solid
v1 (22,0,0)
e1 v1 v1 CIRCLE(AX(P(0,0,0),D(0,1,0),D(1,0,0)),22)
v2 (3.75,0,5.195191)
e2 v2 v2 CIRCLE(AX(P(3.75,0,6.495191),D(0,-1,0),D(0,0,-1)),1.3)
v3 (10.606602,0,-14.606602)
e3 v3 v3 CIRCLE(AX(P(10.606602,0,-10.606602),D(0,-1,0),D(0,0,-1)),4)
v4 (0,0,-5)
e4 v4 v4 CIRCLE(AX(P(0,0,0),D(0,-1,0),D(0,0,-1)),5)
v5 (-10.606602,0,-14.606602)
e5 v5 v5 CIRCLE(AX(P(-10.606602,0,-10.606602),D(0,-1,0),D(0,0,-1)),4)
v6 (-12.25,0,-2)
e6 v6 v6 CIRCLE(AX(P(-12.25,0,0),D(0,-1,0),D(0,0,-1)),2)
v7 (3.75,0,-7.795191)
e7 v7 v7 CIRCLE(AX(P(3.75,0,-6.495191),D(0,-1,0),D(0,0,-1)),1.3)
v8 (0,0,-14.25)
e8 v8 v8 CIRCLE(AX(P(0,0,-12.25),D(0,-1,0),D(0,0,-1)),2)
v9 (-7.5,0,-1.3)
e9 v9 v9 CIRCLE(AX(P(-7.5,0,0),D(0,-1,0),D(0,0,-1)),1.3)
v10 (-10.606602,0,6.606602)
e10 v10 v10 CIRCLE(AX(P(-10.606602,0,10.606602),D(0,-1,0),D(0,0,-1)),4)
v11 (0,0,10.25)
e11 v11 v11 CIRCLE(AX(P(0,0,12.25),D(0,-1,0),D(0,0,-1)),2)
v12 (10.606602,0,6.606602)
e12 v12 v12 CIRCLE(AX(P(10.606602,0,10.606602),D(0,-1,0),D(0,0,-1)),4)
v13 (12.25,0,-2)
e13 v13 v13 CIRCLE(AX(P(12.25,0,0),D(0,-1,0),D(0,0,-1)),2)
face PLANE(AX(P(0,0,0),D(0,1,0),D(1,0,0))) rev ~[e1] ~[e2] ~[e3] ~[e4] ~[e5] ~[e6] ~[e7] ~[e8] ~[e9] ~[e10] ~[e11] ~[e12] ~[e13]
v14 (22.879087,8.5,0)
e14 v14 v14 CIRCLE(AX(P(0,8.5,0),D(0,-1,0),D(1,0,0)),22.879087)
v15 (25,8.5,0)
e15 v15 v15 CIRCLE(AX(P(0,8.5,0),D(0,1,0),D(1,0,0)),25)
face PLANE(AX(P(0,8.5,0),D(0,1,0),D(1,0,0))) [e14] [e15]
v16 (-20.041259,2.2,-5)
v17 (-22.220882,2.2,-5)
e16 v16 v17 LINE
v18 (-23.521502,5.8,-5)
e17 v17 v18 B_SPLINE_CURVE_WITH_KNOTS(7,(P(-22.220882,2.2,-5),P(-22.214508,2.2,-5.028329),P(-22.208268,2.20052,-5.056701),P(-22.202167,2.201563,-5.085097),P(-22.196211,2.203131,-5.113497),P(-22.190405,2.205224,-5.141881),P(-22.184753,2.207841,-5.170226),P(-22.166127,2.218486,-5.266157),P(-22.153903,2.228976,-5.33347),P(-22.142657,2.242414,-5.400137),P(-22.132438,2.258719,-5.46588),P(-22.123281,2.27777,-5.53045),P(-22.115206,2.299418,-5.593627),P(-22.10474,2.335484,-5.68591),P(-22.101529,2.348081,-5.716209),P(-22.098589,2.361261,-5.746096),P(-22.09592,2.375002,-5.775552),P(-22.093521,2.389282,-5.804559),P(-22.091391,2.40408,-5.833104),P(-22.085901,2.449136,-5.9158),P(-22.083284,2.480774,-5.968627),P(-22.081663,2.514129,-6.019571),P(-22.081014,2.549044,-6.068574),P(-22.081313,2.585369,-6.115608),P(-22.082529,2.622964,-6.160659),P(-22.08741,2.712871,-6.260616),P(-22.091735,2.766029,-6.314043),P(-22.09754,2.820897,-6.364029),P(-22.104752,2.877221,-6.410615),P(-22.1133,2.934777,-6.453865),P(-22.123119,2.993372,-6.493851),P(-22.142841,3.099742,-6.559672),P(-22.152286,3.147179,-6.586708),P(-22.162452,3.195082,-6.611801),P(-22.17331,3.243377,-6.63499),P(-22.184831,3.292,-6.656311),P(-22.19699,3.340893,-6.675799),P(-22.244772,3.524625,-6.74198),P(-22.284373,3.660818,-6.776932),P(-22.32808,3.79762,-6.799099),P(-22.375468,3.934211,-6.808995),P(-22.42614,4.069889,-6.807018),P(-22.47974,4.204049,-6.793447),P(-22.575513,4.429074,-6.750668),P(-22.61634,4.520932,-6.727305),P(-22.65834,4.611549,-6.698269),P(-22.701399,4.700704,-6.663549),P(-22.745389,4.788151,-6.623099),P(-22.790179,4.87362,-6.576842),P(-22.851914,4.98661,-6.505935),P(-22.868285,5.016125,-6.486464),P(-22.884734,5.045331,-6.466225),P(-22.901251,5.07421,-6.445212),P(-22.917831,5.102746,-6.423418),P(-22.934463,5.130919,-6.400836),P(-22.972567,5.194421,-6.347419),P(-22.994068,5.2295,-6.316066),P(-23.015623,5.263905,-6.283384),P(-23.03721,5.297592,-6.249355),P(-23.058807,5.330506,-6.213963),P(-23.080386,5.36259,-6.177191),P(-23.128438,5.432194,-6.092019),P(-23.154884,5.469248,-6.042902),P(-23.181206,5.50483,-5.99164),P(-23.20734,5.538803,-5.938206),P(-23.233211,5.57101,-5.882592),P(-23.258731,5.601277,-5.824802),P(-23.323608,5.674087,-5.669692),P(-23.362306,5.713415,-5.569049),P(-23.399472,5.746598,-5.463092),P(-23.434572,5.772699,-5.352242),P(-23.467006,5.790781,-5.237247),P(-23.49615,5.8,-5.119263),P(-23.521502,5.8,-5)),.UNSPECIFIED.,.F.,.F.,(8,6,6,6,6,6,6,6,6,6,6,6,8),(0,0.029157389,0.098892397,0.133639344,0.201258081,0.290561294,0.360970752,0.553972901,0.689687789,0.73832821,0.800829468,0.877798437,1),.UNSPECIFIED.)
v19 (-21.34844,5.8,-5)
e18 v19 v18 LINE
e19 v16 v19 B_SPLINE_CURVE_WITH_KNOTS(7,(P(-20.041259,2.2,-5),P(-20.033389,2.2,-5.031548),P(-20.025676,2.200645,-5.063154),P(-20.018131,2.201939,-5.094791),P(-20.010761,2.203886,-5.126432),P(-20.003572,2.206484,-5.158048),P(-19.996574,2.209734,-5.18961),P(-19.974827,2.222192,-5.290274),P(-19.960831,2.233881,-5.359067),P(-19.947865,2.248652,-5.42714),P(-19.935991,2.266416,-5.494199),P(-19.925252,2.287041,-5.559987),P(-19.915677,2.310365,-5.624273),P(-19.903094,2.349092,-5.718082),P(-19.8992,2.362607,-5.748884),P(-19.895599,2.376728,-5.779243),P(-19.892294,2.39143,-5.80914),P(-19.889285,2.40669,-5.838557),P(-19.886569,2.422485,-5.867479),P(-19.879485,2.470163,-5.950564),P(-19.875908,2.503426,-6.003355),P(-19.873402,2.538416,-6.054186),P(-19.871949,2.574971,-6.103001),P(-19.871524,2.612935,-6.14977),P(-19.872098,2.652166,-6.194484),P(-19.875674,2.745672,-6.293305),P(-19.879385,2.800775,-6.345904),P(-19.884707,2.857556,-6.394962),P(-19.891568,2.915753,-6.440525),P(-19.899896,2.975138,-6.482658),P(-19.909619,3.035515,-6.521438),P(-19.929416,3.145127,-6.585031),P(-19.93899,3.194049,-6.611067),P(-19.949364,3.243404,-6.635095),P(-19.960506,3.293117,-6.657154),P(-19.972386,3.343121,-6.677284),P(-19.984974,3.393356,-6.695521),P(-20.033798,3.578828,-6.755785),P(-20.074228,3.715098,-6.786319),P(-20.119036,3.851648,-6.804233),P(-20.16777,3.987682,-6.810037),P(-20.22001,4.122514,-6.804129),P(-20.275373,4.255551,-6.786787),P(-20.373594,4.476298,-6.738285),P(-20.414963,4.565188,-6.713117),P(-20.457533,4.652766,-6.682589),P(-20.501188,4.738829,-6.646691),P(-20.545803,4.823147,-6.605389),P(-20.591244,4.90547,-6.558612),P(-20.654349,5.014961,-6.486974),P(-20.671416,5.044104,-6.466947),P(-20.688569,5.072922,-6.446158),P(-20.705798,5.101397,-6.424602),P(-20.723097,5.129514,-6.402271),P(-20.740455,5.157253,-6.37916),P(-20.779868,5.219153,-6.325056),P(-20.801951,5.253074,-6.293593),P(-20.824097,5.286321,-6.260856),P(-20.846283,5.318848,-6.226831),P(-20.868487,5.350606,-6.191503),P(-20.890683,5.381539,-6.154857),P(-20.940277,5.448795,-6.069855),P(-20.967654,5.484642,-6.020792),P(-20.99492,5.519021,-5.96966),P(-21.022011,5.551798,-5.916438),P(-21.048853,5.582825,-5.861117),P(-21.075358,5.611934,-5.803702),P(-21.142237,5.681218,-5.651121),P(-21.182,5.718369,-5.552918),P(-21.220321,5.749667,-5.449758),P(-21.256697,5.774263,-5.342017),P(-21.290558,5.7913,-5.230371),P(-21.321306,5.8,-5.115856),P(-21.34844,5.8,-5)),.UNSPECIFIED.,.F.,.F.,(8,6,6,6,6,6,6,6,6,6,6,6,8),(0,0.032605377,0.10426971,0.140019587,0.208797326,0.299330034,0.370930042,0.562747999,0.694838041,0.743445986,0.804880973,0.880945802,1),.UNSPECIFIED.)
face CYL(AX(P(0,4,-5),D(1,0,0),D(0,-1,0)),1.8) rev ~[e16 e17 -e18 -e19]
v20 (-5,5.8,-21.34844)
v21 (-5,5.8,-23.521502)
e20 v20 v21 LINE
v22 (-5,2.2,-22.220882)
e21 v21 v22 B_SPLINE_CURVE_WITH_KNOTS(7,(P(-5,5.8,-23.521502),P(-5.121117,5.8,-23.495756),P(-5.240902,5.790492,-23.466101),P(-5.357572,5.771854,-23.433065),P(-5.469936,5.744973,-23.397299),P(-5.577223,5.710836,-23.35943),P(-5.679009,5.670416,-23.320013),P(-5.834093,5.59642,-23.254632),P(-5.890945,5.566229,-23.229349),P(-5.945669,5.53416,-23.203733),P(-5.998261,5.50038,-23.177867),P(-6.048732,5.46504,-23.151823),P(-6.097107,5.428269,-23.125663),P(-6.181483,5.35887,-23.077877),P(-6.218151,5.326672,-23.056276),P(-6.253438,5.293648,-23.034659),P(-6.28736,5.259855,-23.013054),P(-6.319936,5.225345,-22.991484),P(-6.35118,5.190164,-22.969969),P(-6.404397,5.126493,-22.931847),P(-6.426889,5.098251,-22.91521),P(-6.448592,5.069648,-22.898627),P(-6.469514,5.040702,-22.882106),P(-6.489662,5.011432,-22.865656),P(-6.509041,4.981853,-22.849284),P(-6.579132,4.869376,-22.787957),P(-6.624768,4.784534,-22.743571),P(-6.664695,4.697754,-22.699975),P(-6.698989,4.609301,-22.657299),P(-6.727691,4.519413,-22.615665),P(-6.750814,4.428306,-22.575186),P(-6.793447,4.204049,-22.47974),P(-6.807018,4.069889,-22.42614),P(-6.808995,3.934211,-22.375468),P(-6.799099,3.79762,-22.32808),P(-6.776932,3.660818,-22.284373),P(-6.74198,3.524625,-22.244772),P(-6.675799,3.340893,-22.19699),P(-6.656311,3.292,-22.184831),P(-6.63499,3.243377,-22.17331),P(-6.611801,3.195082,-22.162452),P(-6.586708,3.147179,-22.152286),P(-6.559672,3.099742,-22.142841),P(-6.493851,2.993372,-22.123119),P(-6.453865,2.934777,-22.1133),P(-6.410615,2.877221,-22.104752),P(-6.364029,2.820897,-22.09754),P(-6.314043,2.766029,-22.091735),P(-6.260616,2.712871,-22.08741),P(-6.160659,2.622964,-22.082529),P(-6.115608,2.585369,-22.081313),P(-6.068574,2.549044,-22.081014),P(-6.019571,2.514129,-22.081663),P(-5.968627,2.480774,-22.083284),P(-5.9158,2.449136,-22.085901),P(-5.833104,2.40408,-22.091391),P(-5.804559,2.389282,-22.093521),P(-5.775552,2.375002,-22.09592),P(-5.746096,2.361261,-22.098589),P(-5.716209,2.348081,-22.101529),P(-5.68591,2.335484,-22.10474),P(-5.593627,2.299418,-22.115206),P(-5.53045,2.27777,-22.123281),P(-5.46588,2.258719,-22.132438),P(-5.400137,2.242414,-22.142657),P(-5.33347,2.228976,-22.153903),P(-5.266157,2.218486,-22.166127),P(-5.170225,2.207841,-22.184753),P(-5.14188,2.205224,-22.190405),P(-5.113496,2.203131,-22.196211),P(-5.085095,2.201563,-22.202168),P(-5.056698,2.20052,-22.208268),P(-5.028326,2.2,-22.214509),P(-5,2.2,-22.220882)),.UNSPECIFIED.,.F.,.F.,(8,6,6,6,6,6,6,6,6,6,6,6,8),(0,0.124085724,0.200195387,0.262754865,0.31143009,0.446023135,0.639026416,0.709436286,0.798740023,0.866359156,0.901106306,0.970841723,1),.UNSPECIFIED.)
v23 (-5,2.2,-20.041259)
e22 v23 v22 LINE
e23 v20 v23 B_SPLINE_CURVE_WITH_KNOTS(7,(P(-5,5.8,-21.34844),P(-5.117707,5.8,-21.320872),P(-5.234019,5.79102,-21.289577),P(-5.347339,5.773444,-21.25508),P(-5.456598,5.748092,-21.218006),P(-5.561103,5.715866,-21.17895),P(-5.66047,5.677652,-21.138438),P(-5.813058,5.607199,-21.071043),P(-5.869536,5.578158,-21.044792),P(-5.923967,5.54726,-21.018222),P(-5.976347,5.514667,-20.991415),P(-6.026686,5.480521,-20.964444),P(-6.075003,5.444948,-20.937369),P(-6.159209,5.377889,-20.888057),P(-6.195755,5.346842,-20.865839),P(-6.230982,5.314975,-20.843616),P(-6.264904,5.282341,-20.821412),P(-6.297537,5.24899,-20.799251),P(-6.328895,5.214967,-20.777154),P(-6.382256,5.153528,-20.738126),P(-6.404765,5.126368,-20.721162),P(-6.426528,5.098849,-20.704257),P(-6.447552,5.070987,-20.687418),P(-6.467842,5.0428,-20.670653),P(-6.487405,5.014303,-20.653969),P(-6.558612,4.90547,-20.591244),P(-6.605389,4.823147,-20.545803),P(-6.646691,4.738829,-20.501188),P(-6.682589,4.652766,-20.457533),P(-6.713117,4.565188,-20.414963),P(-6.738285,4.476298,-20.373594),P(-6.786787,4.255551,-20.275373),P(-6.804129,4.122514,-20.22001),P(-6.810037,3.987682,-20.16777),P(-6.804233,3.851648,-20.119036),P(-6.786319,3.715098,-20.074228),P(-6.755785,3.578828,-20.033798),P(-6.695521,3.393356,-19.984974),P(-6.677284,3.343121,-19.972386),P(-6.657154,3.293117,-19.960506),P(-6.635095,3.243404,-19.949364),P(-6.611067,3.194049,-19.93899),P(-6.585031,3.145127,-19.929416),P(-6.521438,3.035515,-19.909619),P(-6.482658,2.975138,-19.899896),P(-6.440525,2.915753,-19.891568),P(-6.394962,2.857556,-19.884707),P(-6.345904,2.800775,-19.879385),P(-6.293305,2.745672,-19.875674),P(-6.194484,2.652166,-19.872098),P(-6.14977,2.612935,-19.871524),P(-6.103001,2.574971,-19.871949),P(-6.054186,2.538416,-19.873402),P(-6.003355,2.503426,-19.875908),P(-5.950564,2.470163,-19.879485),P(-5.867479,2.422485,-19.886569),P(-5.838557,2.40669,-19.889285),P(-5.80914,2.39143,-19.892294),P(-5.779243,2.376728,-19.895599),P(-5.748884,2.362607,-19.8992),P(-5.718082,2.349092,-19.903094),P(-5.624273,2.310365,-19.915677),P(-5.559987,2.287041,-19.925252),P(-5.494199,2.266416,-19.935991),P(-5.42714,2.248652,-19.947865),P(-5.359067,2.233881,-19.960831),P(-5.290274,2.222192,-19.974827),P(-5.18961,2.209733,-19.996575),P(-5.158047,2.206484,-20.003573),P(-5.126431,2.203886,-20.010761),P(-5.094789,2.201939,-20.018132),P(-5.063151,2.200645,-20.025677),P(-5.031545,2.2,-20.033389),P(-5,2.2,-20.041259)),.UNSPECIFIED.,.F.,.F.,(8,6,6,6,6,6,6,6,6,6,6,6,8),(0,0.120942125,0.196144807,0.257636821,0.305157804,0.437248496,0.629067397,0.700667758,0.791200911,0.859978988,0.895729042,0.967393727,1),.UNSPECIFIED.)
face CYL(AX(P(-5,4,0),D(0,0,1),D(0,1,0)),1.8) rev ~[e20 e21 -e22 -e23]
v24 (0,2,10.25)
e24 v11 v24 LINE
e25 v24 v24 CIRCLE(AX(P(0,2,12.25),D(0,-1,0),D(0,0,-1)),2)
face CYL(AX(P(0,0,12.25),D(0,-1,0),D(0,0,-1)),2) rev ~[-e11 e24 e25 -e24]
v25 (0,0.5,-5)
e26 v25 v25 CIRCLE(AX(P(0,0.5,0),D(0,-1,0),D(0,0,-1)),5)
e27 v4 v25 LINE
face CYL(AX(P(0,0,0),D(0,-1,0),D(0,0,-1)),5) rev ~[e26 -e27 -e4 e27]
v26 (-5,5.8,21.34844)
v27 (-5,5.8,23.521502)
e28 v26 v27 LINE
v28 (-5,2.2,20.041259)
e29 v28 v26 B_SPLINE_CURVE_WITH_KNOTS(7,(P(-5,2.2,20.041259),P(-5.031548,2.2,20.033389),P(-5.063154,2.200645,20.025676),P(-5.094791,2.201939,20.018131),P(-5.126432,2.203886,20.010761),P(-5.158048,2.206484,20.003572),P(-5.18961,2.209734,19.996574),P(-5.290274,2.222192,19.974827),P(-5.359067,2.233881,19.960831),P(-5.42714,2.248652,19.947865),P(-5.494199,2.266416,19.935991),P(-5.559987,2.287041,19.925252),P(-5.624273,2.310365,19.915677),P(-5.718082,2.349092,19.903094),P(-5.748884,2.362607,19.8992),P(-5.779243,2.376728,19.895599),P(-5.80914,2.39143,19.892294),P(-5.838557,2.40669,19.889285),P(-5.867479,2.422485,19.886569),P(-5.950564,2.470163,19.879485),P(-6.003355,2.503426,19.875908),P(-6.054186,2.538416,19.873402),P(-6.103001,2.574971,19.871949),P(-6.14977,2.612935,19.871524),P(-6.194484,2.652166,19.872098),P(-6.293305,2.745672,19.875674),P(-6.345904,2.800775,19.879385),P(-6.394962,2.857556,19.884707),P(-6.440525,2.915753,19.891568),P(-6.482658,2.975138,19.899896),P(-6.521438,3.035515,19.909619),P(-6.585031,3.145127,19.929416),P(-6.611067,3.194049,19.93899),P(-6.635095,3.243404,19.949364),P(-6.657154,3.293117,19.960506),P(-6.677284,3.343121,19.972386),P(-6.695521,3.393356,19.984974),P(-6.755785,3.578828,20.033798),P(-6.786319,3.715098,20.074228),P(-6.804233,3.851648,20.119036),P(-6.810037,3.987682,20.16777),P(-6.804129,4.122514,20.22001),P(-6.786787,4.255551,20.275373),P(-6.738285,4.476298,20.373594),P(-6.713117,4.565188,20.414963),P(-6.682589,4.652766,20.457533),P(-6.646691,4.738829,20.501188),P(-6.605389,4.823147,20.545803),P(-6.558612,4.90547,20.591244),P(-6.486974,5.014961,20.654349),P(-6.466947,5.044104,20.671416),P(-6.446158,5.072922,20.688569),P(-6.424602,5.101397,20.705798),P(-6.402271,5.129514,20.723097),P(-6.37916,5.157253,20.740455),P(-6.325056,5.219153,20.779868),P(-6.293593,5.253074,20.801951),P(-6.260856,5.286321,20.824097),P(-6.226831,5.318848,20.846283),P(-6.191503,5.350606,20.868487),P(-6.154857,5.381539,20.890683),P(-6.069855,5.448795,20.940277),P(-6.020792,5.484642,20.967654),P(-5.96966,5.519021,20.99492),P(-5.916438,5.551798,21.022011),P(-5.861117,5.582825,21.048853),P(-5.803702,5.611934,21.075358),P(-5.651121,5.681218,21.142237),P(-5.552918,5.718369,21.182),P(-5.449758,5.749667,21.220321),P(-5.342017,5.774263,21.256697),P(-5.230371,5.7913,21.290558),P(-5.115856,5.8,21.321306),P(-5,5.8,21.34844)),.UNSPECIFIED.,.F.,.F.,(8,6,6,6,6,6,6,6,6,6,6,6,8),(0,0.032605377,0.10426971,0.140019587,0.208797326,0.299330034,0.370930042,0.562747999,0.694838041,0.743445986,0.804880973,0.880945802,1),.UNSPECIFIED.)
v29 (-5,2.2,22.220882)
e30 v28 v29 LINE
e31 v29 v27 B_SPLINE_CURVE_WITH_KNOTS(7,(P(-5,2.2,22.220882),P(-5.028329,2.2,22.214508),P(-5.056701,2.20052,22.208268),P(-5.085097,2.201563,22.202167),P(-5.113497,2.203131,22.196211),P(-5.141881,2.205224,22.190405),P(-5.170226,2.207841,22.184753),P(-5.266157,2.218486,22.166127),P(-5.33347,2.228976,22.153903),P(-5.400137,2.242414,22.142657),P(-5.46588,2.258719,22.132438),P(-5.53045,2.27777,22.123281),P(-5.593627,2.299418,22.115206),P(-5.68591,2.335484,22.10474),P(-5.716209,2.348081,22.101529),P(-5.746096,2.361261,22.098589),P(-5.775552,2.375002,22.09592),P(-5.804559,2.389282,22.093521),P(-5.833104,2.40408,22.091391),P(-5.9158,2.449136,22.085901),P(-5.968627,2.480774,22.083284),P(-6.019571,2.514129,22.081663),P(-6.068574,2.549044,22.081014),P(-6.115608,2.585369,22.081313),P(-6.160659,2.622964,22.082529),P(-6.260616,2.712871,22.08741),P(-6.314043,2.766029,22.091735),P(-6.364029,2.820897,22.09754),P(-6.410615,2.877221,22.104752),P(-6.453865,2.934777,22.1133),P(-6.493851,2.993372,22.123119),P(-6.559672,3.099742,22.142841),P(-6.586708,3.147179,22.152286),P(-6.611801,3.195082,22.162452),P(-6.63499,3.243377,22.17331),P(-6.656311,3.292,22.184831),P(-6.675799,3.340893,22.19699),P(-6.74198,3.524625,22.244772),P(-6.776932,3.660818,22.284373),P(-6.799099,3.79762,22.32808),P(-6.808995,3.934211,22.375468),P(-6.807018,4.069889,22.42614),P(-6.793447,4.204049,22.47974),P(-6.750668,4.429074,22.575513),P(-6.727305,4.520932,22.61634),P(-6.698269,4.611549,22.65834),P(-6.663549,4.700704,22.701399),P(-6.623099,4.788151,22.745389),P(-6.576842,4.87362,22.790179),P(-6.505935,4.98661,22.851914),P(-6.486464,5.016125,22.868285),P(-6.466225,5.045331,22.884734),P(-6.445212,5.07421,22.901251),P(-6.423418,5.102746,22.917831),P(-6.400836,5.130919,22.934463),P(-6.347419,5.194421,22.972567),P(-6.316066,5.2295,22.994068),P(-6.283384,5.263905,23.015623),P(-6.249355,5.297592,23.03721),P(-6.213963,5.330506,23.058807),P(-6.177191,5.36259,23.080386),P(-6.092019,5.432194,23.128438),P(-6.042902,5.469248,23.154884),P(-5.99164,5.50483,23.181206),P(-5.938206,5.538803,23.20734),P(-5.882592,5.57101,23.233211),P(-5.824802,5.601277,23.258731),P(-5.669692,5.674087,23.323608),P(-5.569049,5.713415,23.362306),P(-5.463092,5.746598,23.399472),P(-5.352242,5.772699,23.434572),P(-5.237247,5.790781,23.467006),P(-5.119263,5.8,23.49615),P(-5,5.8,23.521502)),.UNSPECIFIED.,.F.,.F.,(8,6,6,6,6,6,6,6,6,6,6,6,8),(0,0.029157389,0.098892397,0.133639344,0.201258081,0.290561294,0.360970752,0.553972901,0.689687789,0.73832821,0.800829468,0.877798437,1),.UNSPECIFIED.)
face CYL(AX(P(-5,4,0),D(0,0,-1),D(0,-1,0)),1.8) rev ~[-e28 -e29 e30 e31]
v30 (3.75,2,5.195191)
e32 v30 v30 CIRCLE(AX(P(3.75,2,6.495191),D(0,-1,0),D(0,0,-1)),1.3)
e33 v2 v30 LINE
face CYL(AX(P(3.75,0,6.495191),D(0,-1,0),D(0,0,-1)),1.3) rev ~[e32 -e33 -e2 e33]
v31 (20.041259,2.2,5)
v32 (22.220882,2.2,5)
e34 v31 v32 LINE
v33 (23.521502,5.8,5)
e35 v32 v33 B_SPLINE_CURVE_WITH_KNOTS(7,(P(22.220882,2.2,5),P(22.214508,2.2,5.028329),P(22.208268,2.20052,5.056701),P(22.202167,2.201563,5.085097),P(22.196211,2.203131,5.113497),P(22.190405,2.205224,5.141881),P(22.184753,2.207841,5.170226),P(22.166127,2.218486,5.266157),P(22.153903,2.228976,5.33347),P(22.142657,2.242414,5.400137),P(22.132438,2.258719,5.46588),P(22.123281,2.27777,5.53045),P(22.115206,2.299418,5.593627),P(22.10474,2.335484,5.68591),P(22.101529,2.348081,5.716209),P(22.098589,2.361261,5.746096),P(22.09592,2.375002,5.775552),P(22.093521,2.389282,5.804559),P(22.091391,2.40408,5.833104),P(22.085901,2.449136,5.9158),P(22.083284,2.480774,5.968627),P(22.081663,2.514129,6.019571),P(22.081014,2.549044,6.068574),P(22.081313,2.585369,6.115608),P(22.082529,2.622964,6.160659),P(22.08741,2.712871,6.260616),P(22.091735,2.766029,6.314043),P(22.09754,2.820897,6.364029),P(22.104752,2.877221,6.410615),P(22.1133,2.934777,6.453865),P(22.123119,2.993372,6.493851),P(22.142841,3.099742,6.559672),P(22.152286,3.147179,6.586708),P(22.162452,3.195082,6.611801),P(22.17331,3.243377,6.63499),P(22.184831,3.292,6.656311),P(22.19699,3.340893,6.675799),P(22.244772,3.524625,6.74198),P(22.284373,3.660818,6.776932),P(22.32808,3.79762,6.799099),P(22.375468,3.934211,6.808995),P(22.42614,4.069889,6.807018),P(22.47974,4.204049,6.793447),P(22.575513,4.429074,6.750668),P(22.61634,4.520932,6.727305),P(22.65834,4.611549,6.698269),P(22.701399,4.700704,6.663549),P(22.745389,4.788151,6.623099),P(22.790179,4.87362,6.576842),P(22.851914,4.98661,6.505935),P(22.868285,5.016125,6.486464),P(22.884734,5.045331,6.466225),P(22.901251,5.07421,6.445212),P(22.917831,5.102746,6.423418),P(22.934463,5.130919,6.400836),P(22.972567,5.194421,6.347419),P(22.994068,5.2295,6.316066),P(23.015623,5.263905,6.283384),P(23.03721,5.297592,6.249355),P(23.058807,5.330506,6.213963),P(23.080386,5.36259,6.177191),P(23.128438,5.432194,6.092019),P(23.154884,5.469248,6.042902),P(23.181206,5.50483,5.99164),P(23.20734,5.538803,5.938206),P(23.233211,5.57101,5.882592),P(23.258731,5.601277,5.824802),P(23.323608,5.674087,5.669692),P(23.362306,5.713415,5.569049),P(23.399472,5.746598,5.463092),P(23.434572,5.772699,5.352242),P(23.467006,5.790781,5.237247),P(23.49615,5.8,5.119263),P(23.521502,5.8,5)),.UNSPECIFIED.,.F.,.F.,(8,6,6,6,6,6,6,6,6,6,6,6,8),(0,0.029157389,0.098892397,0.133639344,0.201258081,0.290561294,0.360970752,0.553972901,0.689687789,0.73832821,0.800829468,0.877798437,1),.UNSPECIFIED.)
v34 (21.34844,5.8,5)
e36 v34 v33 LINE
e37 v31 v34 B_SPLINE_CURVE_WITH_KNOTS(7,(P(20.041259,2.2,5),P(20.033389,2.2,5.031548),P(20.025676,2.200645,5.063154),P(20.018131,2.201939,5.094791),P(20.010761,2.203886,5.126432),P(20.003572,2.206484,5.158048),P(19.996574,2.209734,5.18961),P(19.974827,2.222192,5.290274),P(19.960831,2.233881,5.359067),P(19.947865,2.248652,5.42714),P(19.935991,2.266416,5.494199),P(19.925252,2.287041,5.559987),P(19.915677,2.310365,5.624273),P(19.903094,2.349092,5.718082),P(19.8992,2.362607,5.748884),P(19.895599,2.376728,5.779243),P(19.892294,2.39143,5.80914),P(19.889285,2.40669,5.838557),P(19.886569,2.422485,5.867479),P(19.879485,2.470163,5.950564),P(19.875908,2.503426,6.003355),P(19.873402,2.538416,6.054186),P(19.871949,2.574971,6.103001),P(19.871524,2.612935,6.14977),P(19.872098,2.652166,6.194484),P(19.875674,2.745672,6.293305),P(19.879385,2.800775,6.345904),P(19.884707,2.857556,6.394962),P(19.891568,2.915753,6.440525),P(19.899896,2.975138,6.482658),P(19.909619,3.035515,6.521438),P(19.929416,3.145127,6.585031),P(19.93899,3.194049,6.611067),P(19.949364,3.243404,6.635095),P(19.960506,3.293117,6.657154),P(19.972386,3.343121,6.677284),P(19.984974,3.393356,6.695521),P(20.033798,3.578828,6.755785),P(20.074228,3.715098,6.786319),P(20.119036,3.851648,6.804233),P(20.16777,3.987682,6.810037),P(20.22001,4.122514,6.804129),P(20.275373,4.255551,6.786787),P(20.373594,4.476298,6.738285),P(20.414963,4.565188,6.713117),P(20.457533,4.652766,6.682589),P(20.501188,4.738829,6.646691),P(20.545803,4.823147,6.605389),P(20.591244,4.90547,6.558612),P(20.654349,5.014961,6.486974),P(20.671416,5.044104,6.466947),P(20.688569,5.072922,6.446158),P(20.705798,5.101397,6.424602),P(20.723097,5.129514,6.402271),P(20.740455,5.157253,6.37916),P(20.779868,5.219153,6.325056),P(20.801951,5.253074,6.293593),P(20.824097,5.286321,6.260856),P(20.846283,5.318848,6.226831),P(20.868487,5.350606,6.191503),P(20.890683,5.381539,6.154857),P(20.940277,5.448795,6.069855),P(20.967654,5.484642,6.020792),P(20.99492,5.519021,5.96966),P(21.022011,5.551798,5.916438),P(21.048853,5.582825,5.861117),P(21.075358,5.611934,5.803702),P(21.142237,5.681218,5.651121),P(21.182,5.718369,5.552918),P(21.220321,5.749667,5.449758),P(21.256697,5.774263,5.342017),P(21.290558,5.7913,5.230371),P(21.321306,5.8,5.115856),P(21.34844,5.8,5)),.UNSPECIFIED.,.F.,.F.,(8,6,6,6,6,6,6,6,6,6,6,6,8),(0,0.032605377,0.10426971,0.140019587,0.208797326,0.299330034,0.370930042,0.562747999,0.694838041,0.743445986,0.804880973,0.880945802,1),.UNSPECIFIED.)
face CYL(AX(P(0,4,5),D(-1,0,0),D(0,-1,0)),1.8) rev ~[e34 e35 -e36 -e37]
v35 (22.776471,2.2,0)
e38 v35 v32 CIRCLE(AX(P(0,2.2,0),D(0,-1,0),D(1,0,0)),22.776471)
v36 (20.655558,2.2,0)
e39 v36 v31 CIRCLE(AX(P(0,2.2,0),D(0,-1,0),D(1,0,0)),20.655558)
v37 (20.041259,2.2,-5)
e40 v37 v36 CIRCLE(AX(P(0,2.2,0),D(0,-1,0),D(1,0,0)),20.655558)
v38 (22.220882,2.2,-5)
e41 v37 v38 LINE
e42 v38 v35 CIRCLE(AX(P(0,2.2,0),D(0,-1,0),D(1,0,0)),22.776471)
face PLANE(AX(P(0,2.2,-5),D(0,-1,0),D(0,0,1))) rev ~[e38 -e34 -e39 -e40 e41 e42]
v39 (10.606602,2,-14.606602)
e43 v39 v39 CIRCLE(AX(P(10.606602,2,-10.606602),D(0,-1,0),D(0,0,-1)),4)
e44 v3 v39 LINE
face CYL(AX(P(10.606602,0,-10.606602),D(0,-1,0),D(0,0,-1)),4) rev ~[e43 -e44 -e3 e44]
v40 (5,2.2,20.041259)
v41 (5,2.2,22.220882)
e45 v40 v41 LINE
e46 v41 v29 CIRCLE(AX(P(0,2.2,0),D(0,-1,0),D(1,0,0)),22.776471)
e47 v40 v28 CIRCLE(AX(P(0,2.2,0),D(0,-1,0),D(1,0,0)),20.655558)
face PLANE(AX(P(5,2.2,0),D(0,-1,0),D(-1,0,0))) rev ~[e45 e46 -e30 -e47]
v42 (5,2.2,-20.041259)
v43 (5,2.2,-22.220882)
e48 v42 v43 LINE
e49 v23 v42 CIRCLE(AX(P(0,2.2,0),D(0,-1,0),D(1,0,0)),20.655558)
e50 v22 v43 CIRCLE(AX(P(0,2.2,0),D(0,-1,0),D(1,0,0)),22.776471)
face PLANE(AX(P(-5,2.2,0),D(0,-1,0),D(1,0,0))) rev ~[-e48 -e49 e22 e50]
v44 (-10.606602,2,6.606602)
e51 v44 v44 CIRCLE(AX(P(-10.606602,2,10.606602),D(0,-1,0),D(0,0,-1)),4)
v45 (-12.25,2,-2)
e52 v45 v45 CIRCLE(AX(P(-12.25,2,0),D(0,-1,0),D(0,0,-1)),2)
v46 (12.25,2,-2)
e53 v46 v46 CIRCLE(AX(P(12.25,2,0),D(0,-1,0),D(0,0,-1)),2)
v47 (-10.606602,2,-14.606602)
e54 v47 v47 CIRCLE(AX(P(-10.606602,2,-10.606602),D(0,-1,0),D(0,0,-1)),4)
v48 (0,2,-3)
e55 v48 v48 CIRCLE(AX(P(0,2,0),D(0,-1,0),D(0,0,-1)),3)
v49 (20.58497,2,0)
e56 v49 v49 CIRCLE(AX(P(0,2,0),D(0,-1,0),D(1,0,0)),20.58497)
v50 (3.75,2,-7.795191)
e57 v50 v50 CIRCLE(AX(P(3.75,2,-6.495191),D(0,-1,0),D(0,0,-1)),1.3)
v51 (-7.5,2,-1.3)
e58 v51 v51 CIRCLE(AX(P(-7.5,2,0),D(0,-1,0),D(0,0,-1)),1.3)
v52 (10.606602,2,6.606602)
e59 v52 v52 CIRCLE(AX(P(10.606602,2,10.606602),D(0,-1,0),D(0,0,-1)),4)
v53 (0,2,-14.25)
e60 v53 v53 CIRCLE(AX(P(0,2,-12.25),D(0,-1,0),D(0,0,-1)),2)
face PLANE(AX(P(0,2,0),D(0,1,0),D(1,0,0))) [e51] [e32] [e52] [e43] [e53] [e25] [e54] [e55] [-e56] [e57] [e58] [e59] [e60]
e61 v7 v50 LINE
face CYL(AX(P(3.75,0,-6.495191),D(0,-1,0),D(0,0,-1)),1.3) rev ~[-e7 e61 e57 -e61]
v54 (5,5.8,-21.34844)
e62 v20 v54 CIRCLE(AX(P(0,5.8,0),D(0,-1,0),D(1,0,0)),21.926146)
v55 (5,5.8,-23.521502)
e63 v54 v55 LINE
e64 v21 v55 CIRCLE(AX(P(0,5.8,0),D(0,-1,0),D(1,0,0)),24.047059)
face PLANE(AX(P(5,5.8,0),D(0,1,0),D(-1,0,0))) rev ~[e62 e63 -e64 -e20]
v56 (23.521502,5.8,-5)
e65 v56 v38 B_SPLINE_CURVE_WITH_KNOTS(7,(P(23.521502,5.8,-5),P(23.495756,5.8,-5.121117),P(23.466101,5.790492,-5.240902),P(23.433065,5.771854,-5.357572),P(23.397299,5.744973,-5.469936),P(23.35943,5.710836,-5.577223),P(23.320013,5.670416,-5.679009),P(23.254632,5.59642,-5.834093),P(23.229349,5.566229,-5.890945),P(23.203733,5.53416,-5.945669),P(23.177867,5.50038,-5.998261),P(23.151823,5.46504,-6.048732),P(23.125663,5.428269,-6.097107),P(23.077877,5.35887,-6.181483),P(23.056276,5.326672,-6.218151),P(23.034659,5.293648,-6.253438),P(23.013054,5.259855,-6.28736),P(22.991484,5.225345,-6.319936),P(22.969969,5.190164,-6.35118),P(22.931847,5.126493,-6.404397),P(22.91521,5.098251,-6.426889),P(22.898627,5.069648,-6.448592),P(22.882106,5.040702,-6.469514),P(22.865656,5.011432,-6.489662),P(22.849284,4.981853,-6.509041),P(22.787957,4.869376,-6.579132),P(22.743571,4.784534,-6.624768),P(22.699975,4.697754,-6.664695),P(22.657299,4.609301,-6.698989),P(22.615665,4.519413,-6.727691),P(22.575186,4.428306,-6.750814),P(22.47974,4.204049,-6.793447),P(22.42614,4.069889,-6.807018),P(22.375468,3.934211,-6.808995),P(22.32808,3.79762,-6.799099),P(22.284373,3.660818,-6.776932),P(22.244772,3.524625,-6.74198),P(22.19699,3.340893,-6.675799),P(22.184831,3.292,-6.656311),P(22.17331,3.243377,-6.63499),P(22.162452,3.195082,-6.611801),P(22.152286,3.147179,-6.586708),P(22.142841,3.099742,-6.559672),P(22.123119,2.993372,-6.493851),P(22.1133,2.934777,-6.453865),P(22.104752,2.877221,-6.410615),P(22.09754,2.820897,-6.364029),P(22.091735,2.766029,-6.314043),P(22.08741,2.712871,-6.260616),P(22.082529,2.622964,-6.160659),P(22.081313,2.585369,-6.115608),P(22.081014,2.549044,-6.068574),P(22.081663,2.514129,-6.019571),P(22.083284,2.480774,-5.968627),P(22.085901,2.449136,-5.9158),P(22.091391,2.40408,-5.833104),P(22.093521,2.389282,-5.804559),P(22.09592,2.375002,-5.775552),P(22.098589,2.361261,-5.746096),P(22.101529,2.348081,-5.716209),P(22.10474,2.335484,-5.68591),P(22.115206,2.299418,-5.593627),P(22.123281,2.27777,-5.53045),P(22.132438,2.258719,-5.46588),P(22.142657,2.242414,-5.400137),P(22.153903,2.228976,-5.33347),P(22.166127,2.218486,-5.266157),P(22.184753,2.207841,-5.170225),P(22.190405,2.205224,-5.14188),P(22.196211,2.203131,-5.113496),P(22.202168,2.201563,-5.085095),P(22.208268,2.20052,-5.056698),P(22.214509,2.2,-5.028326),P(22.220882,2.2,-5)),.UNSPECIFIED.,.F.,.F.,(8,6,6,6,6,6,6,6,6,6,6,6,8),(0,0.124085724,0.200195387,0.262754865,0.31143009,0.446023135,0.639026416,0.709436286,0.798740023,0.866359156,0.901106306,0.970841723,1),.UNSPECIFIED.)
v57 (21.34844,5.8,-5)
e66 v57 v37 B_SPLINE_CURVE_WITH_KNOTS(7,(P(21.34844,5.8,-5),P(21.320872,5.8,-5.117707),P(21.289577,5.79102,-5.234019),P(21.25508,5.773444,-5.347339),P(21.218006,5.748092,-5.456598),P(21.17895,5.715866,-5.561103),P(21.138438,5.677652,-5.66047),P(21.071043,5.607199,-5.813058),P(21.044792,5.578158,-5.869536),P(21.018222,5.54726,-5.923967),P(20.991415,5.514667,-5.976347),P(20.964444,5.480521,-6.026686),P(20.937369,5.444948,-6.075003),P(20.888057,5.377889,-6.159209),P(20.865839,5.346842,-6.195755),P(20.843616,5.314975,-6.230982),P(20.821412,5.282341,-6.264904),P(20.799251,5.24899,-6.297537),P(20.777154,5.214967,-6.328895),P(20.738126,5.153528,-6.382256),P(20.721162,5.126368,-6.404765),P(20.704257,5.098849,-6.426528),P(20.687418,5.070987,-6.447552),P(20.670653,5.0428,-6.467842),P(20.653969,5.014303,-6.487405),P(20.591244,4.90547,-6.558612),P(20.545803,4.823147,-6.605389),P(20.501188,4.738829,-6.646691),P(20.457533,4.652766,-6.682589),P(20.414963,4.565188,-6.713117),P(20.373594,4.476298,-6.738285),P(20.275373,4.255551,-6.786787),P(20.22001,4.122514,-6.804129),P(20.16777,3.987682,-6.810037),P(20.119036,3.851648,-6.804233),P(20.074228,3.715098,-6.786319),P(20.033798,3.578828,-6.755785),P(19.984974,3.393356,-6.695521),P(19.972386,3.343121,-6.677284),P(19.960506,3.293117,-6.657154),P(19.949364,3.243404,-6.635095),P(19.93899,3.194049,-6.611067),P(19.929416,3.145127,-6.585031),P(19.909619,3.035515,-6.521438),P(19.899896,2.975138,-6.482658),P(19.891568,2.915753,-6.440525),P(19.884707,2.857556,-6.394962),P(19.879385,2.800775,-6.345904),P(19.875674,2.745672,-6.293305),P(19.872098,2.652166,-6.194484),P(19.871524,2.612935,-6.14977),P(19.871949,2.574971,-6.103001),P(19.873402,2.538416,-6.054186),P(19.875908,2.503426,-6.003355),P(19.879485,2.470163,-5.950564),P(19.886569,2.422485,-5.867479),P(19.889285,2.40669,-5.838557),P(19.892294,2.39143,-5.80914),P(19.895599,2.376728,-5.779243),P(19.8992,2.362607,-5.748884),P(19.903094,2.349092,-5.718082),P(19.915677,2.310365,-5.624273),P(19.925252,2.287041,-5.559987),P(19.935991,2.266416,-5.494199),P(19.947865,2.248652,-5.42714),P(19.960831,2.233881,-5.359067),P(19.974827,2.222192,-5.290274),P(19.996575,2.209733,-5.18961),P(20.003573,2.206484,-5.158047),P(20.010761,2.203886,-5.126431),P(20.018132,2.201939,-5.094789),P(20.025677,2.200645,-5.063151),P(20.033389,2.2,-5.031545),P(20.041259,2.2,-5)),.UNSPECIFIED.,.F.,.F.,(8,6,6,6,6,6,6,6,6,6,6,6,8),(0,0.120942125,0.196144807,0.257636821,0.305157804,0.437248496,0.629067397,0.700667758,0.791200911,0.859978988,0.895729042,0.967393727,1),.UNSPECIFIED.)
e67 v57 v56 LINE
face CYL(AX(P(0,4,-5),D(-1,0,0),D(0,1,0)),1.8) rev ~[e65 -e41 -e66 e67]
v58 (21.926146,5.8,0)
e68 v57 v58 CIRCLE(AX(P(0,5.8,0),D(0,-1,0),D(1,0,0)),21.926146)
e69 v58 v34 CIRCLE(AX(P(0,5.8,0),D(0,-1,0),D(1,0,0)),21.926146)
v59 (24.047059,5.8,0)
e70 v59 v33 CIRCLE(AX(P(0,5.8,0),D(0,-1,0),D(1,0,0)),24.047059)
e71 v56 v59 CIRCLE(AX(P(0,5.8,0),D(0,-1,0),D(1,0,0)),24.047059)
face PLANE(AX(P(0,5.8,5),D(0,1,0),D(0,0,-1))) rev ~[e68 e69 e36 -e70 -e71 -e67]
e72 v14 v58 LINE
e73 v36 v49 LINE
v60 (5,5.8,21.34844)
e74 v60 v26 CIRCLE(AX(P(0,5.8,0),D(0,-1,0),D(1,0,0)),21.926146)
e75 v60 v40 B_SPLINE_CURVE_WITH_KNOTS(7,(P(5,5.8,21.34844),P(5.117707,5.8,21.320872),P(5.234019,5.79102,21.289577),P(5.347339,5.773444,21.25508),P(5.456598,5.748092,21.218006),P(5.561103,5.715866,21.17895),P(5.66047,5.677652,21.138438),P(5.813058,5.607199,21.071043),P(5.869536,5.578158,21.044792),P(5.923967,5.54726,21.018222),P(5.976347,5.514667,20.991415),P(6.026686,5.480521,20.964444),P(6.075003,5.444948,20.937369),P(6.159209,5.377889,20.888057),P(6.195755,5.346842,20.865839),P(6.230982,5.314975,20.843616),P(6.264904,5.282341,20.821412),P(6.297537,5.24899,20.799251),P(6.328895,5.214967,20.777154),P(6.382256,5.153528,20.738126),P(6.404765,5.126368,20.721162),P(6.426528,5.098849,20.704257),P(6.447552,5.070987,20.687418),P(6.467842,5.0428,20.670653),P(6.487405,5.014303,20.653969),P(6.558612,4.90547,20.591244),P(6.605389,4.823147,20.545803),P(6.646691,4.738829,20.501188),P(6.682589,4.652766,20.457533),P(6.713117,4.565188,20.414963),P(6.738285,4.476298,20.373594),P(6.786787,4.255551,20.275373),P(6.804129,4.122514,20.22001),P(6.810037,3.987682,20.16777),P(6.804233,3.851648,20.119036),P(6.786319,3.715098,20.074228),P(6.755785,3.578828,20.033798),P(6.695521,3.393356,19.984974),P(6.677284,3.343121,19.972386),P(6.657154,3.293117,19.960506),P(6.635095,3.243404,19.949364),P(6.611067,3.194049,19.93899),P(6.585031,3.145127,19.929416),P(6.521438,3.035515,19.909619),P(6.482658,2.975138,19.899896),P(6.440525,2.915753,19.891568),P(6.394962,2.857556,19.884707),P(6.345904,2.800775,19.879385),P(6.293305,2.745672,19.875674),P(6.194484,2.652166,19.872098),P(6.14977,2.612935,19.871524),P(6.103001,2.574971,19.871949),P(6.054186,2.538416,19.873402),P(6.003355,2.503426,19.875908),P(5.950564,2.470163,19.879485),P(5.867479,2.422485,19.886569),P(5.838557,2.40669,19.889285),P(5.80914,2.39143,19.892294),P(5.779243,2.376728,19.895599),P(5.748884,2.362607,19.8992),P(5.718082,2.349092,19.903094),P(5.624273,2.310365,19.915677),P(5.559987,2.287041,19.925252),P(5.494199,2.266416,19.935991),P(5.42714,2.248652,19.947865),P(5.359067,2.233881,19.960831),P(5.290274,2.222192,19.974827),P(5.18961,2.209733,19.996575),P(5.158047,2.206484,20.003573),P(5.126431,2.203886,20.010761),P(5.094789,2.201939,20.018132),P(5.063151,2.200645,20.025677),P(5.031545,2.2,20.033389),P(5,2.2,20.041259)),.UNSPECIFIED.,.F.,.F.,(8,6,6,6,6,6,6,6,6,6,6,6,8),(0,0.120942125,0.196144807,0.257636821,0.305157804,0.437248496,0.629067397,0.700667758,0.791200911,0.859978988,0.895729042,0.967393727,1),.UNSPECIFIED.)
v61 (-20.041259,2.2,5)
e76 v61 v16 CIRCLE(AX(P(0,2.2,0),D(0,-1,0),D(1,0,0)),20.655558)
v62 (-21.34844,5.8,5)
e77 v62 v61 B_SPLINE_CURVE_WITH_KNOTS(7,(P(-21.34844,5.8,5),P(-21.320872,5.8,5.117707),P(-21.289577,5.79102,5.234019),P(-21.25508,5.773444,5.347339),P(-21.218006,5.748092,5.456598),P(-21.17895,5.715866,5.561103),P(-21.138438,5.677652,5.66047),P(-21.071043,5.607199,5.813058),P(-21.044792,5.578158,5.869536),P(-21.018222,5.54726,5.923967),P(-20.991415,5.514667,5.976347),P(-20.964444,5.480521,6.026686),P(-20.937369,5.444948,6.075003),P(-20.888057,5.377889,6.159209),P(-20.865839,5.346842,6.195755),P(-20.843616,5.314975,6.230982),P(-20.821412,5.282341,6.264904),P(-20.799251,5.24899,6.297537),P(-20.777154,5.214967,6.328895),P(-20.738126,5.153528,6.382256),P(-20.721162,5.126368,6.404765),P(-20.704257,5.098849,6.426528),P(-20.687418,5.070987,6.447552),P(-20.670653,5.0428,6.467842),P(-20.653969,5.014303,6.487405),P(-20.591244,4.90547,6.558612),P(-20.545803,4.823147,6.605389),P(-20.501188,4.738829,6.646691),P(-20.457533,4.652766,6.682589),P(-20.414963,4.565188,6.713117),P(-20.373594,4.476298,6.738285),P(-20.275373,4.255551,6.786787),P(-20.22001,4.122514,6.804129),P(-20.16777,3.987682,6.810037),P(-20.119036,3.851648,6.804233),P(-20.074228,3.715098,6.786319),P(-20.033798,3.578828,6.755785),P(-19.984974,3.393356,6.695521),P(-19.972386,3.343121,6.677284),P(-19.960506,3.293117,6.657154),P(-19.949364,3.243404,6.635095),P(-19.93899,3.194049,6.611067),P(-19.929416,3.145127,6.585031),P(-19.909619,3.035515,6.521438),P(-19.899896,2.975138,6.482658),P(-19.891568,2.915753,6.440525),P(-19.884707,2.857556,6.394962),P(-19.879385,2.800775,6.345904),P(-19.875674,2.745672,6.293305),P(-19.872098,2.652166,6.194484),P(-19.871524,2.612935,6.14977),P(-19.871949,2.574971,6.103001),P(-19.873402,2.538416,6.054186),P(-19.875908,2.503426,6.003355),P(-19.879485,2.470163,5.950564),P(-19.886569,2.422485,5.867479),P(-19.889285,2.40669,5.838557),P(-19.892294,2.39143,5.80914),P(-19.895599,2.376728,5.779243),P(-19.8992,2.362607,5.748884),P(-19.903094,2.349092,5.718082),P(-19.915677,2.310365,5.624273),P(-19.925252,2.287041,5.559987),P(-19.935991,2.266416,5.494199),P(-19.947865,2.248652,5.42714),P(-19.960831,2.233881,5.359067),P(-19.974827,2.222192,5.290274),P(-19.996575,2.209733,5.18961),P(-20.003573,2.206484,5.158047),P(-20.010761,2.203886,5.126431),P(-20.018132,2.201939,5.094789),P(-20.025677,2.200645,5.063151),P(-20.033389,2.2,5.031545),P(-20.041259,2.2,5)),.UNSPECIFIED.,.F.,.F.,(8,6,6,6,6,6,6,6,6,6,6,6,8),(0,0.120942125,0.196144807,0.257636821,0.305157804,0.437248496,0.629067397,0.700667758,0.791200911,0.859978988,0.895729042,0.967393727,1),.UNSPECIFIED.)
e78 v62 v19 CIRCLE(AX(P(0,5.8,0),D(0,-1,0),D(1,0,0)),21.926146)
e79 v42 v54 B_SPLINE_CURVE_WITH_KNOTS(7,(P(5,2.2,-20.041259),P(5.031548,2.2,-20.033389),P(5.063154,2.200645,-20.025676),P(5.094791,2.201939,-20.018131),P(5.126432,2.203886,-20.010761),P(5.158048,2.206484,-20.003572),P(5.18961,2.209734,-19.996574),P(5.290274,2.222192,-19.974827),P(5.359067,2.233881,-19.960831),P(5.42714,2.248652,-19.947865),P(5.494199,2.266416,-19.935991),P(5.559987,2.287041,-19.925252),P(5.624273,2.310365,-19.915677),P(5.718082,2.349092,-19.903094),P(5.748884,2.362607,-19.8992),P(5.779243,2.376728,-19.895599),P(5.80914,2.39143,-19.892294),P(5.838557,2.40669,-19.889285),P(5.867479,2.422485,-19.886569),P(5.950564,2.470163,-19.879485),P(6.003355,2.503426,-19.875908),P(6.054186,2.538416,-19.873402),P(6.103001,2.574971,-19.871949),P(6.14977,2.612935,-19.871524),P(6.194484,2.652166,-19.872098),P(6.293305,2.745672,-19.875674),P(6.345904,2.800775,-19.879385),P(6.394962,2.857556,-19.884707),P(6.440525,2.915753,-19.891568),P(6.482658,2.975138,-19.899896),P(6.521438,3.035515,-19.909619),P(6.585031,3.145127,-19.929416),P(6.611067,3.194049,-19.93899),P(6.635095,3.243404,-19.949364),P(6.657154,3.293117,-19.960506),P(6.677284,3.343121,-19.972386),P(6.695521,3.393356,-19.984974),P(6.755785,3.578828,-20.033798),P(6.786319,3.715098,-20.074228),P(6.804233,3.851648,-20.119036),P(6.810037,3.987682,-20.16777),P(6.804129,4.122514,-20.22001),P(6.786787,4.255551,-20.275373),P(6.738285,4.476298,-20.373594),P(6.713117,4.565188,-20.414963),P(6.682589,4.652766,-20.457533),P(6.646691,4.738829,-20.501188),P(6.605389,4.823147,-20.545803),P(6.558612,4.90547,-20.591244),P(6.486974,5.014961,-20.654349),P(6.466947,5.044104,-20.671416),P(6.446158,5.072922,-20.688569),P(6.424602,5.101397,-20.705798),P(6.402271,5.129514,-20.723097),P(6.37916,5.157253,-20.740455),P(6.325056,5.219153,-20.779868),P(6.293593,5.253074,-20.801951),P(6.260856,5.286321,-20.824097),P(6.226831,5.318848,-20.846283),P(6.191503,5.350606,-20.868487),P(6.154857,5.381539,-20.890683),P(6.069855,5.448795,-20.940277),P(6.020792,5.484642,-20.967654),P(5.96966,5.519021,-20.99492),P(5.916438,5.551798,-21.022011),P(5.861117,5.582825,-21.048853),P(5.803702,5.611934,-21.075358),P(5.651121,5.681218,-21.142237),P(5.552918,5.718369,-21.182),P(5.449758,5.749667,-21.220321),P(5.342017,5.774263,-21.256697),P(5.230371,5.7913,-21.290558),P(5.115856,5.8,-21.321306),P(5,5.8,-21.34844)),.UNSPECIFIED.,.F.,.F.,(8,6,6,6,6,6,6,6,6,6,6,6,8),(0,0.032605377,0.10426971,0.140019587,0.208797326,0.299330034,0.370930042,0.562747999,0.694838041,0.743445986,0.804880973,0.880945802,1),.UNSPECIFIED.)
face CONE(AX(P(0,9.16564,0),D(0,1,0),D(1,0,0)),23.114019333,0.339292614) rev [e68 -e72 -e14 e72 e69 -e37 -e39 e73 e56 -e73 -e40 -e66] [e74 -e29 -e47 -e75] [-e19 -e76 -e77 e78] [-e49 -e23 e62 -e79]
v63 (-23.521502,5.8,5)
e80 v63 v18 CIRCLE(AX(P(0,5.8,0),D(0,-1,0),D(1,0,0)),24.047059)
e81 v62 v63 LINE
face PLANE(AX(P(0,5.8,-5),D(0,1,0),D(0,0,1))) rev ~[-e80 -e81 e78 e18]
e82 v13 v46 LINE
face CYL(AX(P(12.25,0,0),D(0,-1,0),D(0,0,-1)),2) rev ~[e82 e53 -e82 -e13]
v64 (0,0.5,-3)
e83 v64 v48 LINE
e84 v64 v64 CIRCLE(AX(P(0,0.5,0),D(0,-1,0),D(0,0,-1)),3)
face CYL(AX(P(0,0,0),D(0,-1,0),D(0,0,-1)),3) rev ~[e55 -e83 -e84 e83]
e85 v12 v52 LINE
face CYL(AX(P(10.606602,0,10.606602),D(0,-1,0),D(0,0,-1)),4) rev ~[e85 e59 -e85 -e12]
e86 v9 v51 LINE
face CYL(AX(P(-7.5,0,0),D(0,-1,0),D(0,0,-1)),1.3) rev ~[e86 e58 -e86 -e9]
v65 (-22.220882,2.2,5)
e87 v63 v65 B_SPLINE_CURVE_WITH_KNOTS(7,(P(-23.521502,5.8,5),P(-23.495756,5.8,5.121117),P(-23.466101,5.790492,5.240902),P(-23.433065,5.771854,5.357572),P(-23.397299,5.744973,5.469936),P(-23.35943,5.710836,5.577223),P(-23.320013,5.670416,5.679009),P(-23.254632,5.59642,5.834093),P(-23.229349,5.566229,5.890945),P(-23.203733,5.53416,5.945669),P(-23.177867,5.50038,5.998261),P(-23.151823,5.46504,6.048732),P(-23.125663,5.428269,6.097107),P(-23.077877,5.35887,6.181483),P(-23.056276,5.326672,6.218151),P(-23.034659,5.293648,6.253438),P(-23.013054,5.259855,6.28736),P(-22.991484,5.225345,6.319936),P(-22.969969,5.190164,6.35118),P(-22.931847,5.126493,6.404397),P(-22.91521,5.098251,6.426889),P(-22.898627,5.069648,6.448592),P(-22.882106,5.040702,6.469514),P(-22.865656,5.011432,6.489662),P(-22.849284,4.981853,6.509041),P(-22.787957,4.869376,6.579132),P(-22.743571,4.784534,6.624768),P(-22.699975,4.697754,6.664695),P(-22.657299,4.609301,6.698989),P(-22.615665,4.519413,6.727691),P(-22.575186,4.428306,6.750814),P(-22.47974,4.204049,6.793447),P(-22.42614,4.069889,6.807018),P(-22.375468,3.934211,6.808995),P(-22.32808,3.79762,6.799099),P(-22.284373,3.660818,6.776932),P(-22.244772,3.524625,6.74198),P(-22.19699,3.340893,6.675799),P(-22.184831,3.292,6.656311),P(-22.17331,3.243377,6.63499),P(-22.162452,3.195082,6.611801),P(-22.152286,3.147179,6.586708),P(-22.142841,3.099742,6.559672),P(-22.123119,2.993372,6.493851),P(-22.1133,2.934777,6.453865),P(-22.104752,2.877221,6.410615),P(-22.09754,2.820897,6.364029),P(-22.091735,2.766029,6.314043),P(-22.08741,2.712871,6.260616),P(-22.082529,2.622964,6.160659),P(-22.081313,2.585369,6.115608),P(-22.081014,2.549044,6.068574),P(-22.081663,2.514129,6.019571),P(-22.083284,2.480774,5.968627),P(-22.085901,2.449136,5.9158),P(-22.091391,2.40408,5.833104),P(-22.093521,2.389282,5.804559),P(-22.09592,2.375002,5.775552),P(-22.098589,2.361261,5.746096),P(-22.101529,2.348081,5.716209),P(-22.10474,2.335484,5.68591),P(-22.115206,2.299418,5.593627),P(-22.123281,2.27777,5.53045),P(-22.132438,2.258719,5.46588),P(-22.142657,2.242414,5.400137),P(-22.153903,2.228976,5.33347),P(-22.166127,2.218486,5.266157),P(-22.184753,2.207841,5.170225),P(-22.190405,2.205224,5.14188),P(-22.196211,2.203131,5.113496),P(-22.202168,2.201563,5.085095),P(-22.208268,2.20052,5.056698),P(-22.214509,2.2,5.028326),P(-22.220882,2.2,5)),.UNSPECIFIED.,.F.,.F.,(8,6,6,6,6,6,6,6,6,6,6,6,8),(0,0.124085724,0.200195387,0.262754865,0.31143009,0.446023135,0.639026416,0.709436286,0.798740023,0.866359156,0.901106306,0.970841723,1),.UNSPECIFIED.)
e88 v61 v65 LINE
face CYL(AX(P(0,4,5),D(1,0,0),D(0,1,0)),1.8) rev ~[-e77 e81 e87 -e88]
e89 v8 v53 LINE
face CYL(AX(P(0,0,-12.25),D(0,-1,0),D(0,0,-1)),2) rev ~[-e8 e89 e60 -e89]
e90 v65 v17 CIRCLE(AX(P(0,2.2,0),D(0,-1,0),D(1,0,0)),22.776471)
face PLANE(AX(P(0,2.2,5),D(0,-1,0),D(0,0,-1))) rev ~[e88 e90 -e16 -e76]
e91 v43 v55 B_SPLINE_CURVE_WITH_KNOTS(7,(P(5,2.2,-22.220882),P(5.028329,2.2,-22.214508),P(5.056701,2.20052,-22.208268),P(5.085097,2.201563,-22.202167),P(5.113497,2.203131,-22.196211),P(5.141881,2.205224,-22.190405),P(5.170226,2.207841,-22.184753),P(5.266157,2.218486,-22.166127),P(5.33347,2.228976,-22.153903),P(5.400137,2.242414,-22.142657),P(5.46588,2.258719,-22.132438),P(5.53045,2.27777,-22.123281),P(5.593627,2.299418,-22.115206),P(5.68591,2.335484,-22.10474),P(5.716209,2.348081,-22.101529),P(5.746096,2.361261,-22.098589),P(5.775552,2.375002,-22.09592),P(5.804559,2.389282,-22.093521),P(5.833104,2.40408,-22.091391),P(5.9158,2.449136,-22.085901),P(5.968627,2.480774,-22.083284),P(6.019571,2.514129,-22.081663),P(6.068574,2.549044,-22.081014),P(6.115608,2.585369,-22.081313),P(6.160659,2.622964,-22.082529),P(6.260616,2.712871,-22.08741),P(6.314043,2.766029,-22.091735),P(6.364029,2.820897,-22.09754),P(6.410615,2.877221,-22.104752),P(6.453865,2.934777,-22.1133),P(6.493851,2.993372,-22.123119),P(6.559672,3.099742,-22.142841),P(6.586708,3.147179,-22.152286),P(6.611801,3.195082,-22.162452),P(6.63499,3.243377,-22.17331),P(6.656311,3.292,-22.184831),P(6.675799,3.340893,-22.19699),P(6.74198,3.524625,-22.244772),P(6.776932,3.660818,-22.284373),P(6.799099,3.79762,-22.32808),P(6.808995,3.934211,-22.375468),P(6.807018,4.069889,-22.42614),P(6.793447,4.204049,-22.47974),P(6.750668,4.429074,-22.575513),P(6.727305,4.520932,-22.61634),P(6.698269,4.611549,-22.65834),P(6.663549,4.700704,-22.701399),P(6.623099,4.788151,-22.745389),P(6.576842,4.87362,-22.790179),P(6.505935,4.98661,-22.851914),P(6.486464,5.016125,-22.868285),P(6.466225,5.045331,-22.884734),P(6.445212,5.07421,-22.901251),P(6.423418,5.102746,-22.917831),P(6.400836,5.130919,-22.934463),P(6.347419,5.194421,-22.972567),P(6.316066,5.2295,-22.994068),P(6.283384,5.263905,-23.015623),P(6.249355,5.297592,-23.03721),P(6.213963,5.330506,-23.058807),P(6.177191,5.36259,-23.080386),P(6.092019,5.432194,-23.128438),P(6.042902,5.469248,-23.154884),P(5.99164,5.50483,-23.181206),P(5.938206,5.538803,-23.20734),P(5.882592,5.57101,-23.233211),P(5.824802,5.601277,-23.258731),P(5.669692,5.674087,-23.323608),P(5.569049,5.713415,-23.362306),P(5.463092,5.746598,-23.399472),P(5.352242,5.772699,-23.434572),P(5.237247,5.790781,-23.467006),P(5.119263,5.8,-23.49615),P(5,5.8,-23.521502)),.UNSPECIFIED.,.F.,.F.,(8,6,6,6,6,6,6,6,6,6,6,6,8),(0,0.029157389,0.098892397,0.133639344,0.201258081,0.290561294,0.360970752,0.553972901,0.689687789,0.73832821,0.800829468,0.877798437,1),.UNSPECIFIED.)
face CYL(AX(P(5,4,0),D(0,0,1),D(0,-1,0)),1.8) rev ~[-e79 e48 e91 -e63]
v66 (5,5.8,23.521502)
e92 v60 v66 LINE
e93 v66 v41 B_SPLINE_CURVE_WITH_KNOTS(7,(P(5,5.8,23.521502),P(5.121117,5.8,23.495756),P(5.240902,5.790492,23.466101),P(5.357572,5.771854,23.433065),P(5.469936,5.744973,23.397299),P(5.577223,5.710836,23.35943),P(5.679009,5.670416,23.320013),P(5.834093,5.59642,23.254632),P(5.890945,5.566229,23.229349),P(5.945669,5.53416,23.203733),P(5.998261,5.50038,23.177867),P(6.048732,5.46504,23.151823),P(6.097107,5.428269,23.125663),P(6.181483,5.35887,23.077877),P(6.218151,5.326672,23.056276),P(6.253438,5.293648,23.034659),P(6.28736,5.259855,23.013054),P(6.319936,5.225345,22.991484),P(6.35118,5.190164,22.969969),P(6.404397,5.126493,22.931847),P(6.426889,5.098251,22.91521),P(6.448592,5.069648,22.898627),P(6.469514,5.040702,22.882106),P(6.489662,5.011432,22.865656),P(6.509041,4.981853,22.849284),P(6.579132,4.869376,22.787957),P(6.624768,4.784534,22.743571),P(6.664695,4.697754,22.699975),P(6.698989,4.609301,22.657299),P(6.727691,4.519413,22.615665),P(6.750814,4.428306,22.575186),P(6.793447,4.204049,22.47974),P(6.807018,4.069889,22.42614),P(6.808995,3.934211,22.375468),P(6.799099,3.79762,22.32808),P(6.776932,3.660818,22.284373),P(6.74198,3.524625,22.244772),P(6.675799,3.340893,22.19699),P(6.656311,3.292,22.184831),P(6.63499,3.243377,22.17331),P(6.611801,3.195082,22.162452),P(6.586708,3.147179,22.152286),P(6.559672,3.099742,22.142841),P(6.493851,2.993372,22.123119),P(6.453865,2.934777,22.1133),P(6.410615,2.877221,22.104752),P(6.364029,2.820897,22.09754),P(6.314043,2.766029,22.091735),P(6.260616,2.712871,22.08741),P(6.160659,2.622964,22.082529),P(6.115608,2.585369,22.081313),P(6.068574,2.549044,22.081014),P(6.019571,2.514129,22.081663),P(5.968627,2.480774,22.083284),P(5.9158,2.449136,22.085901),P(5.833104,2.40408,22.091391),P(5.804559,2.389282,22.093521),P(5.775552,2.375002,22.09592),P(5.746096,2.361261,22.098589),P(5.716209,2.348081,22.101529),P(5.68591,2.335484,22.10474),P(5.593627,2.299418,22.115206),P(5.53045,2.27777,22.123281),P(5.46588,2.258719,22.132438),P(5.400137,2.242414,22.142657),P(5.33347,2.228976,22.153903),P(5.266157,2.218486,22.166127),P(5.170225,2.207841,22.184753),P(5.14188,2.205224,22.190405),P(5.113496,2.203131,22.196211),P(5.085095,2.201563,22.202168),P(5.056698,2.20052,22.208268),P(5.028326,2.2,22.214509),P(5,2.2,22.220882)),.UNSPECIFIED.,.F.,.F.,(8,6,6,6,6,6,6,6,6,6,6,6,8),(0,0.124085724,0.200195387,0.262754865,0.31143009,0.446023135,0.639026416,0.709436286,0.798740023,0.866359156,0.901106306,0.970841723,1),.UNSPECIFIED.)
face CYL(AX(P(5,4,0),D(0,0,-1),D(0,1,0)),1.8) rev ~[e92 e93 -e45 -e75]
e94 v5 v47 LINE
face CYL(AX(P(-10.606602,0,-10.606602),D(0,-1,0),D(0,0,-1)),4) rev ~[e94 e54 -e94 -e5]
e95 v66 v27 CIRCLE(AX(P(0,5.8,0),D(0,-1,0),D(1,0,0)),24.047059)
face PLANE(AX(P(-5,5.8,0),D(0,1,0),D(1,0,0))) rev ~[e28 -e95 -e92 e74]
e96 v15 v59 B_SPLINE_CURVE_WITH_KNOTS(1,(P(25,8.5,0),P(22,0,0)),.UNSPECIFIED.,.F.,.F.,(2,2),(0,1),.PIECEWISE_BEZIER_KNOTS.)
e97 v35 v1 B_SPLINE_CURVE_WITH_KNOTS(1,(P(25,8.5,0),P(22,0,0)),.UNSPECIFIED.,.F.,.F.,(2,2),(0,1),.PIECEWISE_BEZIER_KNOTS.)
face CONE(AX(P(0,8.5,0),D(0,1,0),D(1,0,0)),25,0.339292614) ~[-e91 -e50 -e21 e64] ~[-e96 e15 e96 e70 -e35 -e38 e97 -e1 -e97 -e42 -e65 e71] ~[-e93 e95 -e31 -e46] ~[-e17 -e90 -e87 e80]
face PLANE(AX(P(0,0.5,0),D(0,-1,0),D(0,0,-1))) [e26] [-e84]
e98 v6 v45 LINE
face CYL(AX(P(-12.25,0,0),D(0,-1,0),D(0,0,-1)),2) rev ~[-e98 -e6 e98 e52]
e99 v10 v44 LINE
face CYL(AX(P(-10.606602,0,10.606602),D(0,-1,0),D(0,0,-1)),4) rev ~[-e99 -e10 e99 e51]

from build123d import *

# Parameters (mm, degrees)
SKETCH2_R          = 25
SKETCH1_R          = 22
SHELL1_T           = -2
SKETCH3_R          = 3
SKETCH3_R_2        = 2
SKETCH3_R_3        = 4
SKETCH3_R_4        = 1.3
CUT_EXTRUDE1_DEPTH = 37.362755832
CUT_EXTRUDE2_DEPTH = 31
CIRPATTERN1_COUNT  = 4
SKETCH5_R          = 5
CUT_EXTRUDE3_DEPTH = 0.5


with BuildPart() as part:
    # Sketch2 → Loft1 section 0
    with BuildSketch(Plane(origin=(0, 8.5, 0), x_dir=(1, 0, 0), z_dir=(0, 1, 0))):
        Circle(SKETCH2_R)
    # Sketch1 → Loft1 section 1
    with BuildSketch(Plane(origin=(0, 0, 0), x_dir=(1, 0, 0), z_dir=(0, 1, 0))):
        Circle(SKETCH1_R)
    loft()

    # Shell1
    shell1_openings = [part.faces().sort_by_distance(p)[0] for p in [
        (0, 8.5, 0),
    ]]
    offset(amount=SHELL1_T, openings=shell1_openings, kind=Kind.INTERSECTION)

    # Sketch3 → Cut-Extrude1 (cut, through all)
    with BuildSketch(Plane.XZ):
        with Locations(Location((0, 0, 0), (0, 0, 270))):
            Circle(SKETCH3_R)
        with Locations(Location((0, -12.25, 0), (0, 0, 270))):
            Circle(SKETCH3_R_2)
        with Locations(Location((-12.25, 0, 0), (0, 0, 270))):
            Circle(SKETCH3_R_2)
        with Locations(Location((0, 12.25, 0), (0, 0, 270))):
            Circle(SKETCH3_R_2)
        with Locations(Location((12.25, 0, 0), (0, 0, 270))):
            Circle(SKETCH3_R_2)
        with Locations(Location((-10.606601718, -10.606601718, 0), (0, 0, 270))):
            Circle(SKETCH3_R_3)
        with Locations(Location((-10.606601718, 10.606601718, 0), (0, 0, 270))):
            Circle(SKETCH3_R_3)
        with Locations(Location((10.606601718, 10.606601718, 0), (0, 0, 270))):
            Circle(SKETCH3_R_3)
        with Locations(Location((10.606601718, -10.606601718, 0), (0, 0, 270))):
            Circle(SKETCH3_R_3)
        with Locations(Location((-7.5, 0, 0), (0, 0, 270))):
            Circle(SKETCH3_R_4)
        with Locations(Location((3.75, 6.495190528, 0), (0, 0, 270))):
            Circle(SKETCH3_R_4)
        with Locations(Location((3.75, -6.495190528, 0), (0, 0, 270))):
            Circle(SKETCH3_R_4)
    extrude(amount=-CUT_EXTRUDE1_DEPTH, mode=Mode.SUBTRACT)

    # Sketch4 → Cut-Extrude2 (cut)
    with BuildSketch(Plane.XY):
        with BuildLine():
            Line((5, 2.2), (-5, 2.2))
            ThreePointArc((-5, 2.2), (-6.8, 4), (-5, 5.8))
            Line((-5, 5.8), (5, 5.8))
            ThreePointArc((5, 5.8), (6.8, 4), (5, 2.2))
        make_face()
    cut_extrude2 = extrude(amount=CUT_EXTRUDE2_DEPTH, mode=Mode.SUBTRACT)

    # CirPattern1: Cut-Extrude2 ×4 about axis
    cirpattern1_axis = Axis((0, 0, 0), (0, 1, 0))
    for i in range(1, CIRPATTERN1_COUNT):
        add(cut_extrude2.rotate(cirpattern1_axis, i * 360 / CIRPATTERN1_COUNT), mode=Mode.SUBTRACT)

    # Sketch5 → Cut-Extrude3 (cut)
    with BuildSketch(Plane.XZ):
        with Locations(Location((0, 0, 0), (0, 0, 270))):
            Circle(SKETCH5_R)
    extrude(amount=-CUT_EXTRUDE3_DEPTH, mode=Mode.SUBTRACT)


solid = part.part
